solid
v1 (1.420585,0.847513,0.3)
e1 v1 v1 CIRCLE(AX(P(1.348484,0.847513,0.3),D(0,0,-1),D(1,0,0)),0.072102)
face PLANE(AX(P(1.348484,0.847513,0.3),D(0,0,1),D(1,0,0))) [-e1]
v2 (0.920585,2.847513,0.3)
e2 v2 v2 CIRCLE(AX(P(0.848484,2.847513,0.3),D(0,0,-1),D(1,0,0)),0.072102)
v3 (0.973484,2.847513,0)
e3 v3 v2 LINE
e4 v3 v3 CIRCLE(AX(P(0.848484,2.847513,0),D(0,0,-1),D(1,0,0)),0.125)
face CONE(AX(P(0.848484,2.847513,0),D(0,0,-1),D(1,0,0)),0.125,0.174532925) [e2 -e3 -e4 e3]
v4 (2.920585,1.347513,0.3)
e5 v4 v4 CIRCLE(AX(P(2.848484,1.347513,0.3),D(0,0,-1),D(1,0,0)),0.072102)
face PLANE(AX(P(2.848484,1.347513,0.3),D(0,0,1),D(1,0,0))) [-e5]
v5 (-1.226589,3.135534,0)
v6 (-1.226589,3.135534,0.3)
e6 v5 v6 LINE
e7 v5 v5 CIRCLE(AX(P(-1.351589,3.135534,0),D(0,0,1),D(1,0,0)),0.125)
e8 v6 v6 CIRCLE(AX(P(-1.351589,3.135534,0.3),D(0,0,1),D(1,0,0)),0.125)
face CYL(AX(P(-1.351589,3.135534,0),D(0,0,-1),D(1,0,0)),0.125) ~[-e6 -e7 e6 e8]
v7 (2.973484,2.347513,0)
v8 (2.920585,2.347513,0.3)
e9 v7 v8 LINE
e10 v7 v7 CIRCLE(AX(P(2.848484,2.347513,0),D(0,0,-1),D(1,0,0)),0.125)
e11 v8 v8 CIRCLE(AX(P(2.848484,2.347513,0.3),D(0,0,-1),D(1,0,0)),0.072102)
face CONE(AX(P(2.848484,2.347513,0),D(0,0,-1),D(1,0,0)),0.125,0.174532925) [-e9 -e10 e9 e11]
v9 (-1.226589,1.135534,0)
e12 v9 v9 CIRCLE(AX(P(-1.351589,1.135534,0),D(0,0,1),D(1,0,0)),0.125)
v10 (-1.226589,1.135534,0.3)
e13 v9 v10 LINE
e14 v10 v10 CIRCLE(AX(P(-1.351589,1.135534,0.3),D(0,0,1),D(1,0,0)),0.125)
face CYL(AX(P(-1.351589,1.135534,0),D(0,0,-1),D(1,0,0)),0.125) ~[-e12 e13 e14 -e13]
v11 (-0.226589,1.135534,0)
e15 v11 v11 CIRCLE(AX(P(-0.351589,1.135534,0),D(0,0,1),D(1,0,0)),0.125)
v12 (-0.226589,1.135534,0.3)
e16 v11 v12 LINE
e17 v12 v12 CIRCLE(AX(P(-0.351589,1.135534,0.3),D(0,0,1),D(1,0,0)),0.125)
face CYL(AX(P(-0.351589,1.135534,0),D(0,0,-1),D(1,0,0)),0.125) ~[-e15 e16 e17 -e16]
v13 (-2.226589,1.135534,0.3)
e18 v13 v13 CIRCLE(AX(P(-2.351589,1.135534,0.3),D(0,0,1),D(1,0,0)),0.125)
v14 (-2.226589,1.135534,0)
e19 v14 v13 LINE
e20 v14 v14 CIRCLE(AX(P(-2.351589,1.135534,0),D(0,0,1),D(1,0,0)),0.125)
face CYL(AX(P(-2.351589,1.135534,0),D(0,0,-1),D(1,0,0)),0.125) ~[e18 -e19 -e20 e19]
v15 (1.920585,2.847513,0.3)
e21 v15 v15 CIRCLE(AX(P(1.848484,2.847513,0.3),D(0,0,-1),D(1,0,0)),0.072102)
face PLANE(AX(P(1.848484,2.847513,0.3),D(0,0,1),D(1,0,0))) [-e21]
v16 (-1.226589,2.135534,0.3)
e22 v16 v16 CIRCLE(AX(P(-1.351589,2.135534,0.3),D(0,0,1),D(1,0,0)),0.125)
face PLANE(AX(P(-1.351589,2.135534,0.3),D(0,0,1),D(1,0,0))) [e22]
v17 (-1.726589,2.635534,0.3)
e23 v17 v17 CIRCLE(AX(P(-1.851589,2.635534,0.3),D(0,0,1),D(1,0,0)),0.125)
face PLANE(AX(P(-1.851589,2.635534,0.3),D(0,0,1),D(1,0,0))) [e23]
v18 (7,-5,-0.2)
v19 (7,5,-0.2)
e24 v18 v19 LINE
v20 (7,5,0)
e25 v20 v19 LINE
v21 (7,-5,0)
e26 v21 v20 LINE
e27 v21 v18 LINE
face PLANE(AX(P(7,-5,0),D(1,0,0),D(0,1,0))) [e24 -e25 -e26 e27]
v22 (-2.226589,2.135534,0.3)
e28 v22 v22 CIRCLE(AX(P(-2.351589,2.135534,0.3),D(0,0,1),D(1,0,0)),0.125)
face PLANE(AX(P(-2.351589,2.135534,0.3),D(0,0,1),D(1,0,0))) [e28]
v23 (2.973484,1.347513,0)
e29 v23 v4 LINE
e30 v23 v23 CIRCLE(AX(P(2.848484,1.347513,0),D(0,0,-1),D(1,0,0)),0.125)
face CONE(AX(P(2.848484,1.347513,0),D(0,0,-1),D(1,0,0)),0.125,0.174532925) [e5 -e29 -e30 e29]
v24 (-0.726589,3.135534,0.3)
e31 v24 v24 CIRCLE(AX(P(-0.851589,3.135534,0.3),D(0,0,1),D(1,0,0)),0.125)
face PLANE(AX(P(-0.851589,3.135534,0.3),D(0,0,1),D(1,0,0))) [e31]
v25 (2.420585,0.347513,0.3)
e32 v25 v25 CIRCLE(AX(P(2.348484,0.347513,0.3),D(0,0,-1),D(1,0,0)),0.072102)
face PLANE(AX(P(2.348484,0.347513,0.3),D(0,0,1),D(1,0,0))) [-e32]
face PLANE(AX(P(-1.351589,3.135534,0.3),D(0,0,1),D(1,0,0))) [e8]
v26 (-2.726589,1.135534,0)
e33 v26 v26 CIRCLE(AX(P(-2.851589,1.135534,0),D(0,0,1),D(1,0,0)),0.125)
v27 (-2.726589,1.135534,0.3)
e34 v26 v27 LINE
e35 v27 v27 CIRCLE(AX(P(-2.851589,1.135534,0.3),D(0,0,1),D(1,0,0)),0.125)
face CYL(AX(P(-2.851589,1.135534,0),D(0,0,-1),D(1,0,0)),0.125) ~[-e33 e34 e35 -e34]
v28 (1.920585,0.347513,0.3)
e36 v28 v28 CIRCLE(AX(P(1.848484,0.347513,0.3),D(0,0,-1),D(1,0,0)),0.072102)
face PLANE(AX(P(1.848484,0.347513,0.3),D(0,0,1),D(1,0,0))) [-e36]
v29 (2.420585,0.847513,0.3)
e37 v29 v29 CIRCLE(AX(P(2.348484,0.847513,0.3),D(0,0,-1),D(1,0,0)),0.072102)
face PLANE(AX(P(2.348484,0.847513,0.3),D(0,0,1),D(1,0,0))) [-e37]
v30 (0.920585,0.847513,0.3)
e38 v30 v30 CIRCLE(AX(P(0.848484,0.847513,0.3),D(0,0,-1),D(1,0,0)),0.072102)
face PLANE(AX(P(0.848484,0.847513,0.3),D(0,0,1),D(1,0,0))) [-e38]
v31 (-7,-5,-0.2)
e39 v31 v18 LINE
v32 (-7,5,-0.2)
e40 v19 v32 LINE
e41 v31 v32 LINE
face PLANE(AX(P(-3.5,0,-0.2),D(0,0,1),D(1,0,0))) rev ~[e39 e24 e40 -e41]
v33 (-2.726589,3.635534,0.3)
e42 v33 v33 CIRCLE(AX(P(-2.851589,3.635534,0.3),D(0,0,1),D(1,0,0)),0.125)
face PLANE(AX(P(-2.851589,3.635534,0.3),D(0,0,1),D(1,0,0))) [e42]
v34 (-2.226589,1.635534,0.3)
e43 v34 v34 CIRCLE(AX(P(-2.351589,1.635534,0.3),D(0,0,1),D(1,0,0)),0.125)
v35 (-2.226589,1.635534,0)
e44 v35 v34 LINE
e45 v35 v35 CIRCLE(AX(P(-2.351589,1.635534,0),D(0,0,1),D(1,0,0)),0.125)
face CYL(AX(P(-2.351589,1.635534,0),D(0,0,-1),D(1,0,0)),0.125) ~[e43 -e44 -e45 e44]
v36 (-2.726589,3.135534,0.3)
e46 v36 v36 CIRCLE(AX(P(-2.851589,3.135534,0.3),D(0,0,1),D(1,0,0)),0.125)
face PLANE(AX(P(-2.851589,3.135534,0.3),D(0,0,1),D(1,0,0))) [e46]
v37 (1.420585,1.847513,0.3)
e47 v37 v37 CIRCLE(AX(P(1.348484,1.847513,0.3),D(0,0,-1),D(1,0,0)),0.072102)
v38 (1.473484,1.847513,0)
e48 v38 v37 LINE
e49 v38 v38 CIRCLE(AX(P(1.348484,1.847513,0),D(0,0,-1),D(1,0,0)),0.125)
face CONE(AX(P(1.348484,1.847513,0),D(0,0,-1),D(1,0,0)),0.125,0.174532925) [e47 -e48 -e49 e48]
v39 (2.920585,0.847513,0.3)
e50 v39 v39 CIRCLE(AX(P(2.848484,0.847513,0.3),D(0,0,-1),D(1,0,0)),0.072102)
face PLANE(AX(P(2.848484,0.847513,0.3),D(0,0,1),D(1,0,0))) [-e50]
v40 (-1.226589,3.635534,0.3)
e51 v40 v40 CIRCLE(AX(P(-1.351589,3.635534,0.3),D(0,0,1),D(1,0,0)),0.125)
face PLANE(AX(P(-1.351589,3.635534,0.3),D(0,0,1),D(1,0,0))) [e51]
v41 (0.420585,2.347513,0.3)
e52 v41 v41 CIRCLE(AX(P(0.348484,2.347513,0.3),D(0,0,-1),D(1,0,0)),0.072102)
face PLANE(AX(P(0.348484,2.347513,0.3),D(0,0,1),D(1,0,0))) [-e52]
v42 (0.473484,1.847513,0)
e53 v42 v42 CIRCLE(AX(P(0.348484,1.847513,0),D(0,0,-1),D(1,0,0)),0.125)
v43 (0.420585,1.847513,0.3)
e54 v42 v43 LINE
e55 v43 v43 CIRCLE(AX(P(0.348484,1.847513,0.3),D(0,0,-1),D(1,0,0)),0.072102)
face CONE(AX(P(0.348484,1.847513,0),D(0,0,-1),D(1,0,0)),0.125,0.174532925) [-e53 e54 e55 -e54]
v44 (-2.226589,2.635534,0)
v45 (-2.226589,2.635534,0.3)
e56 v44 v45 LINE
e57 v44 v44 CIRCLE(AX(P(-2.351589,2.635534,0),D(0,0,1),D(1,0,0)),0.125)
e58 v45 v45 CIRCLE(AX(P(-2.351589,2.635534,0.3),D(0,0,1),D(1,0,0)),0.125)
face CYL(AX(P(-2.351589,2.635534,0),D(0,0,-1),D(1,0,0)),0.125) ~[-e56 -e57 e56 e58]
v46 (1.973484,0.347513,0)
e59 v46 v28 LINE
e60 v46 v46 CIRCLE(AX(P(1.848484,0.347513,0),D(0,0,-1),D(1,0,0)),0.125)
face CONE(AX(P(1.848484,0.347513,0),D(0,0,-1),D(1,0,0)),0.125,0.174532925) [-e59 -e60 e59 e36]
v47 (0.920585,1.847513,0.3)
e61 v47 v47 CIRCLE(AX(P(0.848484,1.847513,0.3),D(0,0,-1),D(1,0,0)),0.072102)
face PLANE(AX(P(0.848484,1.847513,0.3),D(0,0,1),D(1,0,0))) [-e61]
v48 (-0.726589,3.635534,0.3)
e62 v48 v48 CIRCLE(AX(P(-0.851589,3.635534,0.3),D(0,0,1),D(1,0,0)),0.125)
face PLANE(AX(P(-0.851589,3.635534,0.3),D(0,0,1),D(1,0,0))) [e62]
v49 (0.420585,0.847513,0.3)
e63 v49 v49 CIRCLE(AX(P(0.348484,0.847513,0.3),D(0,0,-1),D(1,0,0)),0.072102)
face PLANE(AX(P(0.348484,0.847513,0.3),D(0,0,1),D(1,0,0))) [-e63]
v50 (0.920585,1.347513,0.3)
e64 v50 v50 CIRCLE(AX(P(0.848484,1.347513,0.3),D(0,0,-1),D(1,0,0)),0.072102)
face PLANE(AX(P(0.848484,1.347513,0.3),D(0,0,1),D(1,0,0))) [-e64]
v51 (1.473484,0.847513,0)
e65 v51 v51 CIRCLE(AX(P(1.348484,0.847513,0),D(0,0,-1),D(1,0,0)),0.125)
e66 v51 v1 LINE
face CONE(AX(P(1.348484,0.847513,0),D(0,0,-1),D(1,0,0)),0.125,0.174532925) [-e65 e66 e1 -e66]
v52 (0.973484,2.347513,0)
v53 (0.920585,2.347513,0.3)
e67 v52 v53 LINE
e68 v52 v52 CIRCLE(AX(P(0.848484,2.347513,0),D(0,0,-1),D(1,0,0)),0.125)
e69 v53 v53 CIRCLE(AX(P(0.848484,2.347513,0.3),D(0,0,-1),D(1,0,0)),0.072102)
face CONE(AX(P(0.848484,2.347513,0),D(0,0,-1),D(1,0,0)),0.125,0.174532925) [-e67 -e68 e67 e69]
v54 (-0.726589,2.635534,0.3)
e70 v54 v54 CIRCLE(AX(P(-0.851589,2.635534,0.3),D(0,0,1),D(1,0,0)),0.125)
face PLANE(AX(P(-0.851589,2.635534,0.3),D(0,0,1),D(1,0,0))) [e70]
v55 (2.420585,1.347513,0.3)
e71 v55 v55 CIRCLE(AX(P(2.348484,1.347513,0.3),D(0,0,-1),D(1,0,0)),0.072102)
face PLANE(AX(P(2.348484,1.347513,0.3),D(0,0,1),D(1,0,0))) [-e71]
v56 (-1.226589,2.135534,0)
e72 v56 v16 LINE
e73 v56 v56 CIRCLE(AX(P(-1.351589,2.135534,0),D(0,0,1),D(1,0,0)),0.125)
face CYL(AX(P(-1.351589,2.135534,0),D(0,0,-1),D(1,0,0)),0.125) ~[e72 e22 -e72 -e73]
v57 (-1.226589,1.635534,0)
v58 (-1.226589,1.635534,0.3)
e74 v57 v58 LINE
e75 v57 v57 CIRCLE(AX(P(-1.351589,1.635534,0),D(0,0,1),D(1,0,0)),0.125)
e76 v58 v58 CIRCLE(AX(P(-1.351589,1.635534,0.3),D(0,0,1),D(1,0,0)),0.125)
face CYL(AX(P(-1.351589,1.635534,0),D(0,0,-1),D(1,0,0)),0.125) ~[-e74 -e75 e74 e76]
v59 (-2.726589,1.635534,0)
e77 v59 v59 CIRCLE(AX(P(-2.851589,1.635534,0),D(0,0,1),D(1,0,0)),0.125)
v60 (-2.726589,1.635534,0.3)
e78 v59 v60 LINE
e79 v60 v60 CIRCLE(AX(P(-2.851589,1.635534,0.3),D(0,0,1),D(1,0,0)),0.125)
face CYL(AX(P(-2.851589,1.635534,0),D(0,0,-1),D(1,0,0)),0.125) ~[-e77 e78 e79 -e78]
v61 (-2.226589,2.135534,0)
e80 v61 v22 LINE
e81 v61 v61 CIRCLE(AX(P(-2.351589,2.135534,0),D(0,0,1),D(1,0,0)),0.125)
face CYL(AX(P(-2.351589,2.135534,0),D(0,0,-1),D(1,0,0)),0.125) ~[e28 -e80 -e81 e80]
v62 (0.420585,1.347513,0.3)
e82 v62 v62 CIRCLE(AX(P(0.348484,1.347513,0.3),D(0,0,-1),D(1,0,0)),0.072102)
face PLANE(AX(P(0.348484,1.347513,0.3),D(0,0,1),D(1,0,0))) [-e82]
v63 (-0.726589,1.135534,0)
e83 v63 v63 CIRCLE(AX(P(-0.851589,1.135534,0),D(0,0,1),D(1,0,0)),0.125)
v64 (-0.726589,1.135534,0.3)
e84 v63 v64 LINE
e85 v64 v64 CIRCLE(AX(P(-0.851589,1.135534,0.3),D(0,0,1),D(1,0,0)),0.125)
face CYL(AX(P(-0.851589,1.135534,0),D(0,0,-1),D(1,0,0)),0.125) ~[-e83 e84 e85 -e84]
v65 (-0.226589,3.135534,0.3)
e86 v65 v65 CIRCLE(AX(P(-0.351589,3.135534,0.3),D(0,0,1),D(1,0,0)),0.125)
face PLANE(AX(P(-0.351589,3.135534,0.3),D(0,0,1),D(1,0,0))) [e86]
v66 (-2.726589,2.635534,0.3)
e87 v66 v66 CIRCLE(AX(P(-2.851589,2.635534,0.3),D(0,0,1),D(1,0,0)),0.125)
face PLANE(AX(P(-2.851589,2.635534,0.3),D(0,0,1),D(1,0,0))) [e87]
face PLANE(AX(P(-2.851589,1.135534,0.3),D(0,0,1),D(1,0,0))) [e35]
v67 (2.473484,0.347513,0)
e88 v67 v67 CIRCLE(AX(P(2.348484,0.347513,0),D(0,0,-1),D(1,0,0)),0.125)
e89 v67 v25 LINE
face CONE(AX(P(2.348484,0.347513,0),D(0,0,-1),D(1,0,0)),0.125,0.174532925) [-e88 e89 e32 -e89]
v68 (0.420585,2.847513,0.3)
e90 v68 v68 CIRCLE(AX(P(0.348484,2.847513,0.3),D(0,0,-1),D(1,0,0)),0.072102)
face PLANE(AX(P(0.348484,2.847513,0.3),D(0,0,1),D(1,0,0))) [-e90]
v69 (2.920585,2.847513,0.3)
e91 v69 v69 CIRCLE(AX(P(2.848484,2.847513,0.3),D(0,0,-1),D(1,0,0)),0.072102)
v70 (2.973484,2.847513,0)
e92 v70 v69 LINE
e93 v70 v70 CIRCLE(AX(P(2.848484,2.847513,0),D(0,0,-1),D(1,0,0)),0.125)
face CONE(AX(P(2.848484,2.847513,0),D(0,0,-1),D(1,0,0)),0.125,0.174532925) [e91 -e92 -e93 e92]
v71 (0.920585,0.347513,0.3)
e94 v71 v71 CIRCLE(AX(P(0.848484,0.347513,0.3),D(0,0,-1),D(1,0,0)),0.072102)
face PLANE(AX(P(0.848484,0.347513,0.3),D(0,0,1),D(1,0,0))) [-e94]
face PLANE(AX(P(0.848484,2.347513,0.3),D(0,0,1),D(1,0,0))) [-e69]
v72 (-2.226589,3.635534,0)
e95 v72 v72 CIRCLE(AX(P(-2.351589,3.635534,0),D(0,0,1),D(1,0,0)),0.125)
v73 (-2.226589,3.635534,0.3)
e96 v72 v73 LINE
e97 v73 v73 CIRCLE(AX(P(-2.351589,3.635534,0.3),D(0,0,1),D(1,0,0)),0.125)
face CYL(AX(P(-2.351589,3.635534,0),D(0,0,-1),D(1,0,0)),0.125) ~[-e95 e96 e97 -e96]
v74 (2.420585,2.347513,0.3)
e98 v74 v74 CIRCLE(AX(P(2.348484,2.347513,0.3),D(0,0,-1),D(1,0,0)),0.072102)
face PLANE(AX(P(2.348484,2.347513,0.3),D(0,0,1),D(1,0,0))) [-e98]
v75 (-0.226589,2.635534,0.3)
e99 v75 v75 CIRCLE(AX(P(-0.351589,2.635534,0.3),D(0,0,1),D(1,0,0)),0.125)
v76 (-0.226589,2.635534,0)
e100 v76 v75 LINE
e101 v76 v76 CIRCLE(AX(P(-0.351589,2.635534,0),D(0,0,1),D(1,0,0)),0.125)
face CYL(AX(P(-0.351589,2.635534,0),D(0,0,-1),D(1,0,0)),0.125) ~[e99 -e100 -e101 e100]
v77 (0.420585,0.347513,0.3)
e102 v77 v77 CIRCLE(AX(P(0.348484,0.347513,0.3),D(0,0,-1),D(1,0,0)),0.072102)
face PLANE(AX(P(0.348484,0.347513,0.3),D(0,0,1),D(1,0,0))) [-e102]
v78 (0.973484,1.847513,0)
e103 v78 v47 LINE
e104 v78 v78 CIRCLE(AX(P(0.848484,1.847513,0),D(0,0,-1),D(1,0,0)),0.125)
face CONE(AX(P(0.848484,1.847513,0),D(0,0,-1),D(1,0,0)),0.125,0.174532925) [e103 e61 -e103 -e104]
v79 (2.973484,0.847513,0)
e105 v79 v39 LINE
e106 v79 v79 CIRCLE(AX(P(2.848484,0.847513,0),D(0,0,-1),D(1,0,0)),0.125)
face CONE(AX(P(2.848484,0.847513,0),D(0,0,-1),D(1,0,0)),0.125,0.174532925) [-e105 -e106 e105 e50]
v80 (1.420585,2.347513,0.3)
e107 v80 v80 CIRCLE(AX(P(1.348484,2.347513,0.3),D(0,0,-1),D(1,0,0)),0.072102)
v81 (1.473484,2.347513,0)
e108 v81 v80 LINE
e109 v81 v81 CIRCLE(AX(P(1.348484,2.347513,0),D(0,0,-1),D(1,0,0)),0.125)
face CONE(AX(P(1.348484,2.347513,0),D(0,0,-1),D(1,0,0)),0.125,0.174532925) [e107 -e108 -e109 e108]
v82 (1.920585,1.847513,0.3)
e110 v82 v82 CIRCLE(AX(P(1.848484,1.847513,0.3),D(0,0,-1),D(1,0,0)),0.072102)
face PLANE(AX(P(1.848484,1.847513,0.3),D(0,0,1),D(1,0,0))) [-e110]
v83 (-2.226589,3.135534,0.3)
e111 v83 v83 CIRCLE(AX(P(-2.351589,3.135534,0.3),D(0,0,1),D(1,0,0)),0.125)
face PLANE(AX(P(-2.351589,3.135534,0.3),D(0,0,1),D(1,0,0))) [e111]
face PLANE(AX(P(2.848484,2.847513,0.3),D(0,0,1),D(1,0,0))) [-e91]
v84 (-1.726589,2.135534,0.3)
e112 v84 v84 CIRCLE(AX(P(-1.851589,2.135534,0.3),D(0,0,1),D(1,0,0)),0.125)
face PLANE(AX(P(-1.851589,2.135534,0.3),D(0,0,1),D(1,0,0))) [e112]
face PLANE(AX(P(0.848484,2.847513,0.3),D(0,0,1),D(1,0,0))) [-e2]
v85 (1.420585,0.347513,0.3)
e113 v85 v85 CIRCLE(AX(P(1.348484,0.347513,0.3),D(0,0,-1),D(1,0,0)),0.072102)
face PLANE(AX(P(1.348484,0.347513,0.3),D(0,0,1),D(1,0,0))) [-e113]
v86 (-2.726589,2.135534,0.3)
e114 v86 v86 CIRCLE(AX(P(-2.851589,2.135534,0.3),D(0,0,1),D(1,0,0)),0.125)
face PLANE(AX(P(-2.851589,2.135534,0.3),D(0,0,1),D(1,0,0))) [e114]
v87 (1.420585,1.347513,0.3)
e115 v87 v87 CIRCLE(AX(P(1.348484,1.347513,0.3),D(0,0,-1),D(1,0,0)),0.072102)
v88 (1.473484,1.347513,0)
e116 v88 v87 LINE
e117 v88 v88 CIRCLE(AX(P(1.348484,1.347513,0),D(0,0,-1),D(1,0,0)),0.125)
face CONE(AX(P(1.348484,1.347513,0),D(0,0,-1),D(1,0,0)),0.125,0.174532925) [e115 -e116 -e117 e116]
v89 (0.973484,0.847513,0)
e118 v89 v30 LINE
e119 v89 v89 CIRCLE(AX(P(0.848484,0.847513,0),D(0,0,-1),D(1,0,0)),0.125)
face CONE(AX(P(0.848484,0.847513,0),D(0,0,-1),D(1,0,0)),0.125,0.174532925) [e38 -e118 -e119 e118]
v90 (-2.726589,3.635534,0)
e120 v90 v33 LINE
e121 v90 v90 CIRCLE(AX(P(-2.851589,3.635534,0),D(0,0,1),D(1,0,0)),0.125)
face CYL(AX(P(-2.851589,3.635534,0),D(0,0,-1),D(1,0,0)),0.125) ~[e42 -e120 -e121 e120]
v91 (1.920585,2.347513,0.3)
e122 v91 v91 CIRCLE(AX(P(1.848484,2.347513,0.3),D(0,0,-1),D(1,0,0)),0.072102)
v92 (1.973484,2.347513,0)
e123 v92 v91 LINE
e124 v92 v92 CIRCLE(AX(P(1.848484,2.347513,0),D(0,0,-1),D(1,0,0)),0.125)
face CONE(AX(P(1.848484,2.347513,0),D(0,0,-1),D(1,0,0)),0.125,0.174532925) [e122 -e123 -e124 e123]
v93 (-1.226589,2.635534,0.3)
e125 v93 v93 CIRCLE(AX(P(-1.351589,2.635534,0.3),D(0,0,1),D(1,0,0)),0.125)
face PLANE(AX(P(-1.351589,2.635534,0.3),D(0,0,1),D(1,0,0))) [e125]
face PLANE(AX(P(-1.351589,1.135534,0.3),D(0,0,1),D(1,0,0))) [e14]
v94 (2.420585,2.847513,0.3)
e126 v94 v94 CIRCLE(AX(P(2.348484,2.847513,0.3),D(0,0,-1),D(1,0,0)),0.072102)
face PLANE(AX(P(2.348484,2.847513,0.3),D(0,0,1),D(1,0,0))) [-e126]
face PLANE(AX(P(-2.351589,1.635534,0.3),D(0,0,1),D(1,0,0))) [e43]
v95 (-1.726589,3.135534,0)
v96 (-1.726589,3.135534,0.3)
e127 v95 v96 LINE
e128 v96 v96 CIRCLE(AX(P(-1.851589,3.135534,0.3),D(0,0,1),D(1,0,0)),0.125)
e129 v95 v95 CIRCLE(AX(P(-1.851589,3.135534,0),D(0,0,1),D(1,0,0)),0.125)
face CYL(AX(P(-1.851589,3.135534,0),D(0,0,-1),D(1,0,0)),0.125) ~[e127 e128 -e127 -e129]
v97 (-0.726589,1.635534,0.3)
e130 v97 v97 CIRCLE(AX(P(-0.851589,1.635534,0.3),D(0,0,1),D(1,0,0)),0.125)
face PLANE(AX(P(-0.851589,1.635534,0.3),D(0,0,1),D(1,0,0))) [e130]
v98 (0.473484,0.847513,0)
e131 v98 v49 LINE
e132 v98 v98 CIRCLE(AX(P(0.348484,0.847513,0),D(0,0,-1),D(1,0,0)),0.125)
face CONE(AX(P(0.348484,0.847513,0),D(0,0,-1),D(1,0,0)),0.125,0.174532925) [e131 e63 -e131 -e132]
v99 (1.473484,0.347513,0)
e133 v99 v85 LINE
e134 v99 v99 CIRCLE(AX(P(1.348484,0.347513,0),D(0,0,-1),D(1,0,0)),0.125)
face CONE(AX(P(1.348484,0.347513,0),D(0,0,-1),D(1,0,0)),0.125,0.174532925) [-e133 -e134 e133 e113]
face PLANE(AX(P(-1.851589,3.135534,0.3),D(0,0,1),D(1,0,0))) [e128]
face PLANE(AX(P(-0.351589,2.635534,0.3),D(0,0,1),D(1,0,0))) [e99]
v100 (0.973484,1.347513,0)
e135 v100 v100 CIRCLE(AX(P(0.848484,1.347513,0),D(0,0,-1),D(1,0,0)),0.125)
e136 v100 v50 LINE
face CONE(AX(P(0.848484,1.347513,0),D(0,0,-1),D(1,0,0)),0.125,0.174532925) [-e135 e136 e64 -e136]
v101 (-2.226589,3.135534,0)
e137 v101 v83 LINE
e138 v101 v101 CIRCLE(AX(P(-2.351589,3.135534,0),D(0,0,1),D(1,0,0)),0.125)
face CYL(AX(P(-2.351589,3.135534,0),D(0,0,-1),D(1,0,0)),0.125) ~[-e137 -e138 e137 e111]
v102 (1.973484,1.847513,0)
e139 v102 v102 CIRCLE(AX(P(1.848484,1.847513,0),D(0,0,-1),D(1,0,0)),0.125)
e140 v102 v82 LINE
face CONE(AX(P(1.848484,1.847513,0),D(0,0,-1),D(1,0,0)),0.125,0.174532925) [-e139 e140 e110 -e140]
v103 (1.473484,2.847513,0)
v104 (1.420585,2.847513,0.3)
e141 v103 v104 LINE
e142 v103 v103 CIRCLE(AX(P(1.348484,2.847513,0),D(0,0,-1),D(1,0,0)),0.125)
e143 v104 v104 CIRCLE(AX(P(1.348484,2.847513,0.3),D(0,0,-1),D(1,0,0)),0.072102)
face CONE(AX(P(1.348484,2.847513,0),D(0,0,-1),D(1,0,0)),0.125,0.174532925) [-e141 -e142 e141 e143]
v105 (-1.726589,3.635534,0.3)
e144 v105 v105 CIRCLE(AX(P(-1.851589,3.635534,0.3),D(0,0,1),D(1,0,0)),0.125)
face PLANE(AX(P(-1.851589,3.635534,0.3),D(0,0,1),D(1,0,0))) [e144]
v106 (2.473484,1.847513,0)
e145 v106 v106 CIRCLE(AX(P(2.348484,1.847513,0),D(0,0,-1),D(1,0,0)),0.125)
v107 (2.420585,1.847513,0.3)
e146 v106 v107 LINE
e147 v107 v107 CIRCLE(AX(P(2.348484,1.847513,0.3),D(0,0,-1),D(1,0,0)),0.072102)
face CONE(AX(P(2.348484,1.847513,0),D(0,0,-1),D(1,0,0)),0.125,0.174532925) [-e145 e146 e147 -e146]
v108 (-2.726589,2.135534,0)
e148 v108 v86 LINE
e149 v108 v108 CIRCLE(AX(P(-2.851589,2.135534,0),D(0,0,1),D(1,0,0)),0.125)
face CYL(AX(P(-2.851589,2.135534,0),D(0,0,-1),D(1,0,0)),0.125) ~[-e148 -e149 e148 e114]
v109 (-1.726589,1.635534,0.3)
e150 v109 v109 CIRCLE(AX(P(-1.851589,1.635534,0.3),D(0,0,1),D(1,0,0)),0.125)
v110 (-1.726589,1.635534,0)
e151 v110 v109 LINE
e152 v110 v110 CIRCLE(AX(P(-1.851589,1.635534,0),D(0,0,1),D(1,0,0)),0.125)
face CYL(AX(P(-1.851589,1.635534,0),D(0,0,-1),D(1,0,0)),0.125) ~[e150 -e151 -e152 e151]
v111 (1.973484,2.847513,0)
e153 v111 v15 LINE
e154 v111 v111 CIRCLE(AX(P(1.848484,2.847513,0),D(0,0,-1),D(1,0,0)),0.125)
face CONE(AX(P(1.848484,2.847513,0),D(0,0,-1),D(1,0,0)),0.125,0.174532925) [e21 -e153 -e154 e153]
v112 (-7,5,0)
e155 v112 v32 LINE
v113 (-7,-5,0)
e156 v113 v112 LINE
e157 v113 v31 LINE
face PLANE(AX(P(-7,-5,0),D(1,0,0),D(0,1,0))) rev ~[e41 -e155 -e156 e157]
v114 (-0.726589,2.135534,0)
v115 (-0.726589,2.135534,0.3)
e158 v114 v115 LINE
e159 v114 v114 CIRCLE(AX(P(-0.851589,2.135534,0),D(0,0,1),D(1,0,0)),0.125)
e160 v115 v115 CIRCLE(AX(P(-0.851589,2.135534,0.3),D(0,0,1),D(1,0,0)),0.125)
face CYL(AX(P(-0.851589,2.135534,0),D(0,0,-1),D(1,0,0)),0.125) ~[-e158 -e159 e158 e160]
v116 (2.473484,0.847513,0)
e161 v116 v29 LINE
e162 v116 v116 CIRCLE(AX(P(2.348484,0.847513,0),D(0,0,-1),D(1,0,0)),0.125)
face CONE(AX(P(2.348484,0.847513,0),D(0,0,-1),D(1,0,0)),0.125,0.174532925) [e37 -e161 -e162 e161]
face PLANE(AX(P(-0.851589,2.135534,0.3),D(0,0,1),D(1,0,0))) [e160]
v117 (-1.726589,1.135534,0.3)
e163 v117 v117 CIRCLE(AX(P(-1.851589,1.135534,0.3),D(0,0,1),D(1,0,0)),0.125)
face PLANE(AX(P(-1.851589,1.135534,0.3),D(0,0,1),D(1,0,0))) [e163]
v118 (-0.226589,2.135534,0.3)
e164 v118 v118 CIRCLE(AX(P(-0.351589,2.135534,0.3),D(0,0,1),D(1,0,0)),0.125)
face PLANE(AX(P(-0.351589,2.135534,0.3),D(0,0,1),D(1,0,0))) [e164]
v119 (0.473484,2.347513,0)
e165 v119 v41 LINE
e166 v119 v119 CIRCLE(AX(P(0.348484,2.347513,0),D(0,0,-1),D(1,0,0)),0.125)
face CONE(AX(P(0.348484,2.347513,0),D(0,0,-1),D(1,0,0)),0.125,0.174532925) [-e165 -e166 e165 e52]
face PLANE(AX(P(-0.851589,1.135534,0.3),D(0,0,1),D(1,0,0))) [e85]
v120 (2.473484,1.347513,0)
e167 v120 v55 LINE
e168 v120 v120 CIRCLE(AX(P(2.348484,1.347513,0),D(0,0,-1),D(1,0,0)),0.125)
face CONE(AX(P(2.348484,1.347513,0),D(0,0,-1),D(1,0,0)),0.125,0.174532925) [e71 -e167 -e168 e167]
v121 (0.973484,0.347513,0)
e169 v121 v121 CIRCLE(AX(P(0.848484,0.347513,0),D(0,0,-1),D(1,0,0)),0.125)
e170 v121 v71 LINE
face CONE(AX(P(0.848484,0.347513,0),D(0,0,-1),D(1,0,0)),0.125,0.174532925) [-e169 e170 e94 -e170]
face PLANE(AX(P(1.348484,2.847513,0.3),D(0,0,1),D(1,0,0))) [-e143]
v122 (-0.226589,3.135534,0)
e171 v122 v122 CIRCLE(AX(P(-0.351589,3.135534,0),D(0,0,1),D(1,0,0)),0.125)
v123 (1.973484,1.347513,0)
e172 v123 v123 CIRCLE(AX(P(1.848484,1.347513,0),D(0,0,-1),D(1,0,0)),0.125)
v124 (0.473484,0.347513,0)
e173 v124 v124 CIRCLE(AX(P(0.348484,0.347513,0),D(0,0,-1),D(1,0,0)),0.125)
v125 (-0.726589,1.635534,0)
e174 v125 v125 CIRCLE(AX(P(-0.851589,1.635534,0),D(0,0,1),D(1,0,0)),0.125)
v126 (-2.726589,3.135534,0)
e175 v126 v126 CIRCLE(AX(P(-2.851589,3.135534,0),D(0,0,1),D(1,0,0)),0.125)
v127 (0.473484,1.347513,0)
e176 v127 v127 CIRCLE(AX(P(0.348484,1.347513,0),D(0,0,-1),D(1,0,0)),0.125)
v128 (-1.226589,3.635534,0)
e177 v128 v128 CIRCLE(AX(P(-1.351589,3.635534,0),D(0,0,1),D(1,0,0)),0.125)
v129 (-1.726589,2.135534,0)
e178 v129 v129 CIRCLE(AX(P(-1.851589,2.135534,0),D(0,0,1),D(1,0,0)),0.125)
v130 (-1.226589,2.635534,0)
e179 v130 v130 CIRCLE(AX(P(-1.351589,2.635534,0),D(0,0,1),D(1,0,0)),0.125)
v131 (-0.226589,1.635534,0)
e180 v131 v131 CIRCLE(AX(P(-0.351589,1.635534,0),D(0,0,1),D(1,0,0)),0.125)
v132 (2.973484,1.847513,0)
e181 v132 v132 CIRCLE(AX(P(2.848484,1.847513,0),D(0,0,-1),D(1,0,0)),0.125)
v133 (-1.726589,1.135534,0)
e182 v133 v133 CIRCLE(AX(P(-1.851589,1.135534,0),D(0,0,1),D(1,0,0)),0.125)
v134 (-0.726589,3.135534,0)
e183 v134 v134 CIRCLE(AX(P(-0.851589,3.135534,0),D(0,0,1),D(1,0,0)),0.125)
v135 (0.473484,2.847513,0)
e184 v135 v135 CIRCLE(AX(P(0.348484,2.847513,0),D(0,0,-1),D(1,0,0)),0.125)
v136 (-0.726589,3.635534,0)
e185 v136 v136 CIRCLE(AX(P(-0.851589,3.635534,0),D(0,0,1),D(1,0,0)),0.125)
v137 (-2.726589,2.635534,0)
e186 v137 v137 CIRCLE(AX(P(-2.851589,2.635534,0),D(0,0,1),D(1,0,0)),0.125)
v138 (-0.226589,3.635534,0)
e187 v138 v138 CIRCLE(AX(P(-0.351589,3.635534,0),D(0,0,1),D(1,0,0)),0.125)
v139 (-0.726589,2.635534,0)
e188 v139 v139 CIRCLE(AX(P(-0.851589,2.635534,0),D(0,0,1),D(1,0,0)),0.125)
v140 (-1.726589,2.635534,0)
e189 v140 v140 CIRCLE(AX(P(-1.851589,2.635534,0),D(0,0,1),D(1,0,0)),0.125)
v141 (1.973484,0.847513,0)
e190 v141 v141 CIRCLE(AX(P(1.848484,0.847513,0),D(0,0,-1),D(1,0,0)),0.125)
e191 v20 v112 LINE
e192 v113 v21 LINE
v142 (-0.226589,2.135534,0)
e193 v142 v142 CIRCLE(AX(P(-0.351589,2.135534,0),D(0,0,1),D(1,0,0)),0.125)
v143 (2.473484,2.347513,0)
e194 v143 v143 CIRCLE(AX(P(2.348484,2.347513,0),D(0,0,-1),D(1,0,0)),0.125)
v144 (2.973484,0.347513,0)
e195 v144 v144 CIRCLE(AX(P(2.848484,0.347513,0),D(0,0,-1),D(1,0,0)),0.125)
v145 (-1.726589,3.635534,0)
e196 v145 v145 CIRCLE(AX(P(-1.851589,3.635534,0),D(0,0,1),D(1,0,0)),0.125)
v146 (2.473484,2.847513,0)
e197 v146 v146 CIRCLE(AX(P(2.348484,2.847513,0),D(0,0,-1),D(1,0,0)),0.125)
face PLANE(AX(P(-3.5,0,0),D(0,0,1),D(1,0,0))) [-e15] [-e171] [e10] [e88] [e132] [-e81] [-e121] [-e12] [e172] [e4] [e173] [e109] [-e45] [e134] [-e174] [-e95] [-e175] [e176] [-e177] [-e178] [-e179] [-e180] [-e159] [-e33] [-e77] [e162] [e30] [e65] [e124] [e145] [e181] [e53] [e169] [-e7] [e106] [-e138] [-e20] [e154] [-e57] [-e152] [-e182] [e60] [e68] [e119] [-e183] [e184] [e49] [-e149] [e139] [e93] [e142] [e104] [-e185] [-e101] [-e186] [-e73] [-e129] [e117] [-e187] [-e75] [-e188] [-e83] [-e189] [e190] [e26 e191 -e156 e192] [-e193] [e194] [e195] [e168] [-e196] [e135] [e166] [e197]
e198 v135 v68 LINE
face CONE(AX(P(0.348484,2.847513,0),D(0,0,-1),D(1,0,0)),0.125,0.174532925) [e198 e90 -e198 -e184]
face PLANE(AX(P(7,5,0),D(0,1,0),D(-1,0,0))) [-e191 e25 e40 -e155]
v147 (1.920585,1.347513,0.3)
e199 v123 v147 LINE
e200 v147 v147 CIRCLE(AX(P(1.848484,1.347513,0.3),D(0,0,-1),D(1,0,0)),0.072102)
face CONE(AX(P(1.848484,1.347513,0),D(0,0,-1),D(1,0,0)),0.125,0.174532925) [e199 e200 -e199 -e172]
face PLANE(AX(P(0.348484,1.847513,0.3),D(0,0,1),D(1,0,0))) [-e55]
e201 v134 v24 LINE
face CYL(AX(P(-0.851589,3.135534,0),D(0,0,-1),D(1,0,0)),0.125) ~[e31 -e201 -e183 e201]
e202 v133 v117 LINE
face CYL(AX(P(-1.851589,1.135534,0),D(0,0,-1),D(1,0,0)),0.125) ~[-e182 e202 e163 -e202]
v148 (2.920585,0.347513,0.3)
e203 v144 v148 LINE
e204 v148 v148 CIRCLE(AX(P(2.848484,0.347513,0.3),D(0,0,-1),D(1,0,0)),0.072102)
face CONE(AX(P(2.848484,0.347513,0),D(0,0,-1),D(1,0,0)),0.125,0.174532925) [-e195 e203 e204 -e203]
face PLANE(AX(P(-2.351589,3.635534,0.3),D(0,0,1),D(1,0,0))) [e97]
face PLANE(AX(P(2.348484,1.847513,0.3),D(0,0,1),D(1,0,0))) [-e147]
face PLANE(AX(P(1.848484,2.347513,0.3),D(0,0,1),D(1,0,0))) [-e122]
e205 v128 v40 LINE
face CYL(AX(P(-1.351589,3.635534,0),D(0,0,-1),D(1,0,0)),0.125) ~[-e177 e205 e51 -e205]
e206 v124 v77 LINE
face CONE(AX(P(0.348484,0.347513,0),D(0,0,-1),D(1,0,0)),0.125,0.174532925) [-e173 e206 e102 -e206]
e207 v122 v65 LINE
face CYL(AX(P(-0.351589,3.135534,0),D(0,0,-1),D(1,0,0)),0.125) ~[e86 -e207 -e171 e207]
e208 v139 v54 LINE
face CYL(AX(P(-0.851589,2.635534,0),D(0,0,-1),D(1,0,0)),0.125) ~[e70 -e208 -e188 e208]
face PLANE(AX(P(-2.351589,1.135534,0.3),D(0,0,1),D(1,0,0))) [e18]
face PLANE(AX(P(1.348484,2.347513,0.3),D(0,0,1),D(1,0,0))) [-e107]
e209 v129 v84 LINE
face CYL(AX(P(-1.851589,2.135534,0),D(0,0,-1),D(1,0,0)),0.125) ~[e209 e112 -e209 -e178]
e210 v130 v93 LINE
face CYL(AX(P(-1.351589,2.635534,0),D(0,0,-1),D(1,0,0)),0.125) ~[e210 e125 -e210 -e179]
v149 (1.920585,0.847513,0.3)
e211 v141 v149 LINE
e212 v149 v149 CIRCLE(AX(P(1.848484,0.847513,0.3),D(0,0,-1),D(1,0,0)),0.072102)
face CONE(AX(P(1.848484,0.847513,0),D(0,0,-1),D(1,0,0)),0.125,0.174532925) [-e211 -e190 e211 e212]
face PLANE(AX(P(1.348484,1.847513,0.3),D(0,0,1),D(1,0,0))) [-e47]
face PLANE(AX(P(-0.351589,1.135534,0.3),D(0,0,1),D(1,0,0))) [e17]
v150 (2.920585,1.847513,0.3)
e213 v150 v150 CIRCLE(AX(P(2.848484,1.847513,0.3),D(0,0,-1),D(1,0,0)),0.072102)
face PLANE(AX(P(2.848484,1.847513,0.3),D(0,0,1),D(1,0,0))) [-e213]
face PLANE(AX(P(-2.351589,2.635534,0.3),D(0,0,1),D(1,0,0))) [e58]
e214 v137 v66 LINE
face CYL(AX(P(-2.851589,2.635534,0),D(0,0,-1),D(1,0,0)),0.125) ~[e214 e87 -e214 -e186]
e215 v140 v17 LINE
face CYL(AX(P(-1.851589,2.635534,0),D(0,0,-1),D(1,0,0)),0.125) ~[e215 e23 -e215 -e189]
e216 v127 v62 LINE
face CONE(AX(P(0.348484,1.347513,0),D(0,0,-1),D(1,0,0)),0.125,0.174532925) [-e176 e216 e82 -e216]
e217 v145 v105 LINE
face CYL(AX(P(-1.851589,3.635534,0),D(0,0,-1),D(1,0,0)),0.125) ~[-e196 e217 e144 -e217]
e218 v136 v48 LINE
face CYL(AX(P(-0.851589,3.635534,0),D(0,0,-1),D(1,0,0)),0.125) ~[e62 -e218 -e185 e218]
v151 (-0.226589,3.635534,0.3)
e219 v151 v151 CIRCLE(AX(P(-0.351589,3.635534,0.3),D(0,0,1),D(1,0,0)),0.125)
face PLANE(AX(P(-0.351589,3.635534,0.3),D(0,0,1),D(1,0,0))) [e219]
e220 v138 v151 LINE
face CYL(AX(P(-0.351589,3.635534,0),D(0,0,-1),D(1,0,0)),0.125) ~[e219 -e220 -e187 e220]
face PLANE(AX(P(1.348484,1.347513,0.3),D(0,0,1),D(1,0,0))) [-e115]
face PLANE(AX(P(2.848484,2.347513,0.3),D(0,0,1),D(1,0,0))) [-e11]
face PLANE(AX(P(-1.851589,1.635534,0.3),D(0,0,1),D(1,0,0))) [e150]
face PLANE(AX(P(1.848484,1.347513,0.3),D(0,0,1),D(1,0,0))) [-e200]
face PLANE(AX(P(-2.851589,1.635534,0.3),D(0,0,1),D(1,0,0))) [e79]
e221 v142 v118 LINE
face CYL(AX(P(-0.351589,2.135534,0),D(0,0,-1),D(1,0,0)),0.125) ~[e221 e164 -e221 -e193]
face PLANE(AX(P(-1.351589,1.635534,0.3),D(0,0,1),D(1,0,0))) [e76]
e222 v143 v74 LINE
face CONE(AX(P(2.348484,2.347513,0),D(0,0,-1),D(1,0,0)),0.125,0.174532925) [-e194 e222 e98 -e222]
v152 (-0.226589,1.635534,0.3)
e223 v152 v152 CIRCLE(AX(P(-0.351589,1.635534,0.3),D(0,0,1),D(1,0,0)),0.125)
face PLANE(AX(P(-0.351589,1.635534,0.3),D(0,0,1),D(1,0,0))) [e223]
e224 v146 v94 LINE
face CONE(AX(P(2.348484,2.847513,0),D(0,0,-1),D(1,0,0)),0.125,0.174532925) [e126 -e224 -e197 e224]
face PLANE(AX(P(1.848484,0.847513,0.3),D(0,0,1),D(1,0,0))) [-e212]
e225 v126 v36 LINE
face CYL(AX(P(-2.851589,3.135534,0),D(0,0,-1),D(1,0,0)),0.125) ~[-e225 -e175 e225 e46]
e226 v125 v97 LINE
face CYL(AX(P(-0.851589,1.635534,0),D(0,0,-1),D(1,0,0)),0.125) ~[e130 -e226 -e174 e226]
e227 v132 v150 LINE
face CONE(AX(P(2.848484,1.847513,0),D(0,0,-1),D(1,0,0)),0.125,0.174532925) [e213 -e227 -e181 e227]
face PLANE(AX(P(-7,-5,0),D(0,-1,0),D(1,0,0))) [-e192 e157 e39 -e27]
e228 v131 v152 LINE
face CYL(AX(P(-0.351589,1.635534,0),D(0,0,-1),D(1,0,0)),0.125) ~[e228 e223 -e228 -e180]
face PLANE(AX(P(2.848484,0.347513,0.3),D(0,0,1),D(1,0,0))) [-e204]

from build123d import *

# Parameters (mm, degrees)
F0_W     = 7
F0_H     = 10
F1_DEPTH = 0.2
F2_R     = 0.125
F3_R     = 0.125
F4_DEPTH = 0.3
F5_DEPTH = 0.3
F5_TAPER = 10


with BuildPart() as f1:
    # F0 (on Top) → F1 (new body)
    with BuildSketch(Plane.XY):
        with Locations((-3.5, 0)):
            Rectangle(F0_W, F0_H)
        with Locations((3.5, 0)):
            Rectangle(F0_W, F0_H)
    extrude(amount=-F1_DEPTH)

    # F2 (on face) + F3 (on face) → F4 (join)
    with BuildSketch(Plane.XY):
        with Locations((-1.3515888844, 2.135533792)):
            Circle(F2_R)
        with Locations((-0.8515888844, 3.635533792)):
            Circle(F2_R)
        with Locations((-0.8515888844, 2.135533792)):
            Circle(F2_R)
        with Locations((-0.3515888844, 3.635533792)):
            Circle(F2_R)
        with Locations((-1.3515888844, 1.635533792)):
            Circle(F2_R)
        with Locations((-1.8515888844, 1.135533792)):
            Circle(F2_R)
        with Locations((-0.8515888844, 1.635533792)):
            Circle(F2_R)
        with Locations((-2.8515888844, 3.135533792)):
            Circle(F2_R)
        with Locations((-2.8515888844, 3.635533792)):
            Circle(F2_R)
        with Locations((-0.8515888844, 1.135533792)):
            Circle(F2_R)
        with Locations((-2.8515888844, 1.135533792)):
            Circle(F2_R)
        with Locations((-1.8515888844, 2.135533792)):
            Circle(F2_R)
        with Locations((-2.8515888844, 2.135533792)):
            Circle(F2_R)
        with Locations((-2.3515888844, 1.135533792)):
            Circle(F2_R)
        with Locations((-1.3515888844, 1.135533792)):
            Circle(F2_R)
        with Locations((-0.3515888844, 3.135533792)):
            Circle(F2_R)
        with Locations((-2.3515888844, 3.635533792)):
            Circle(F2_R)
        with Locations((-1.8515888844, 1.635533792)):
            Circle(F2_R)
        with Locations((-2.3515888844, 3.135533792)):
            Circle(F2_R)
        with Locations((-2.3515888844, 2.635533792)):
            Circle(F2_R)
        with Locations((-0.3515888844, 1.635533792)):
            Circle(F2_R)
        with Locations((-2.3515888844, 2.135533792)):
            Circle(F2_R)
        with Locations((-2.3515888844, 1.635533792)):
            Circle(F2_R)
        with Locations((-2.8515888844, 2.635533792)):
            Circle(F2_R)
        with Locations((-2.8515888844, 1.635533792)):
            Circle(F2_R)
        with Locations((-1.8515888844, 2.635533792)):
            Circle(F2_R)
        with Locations((-0.8515888844, 2.635533792)):
            Circle(F2_R)
        with Locations((-0.3515888844, 1.135533792)):
            Circle(F2_R)
        with Locations((-1.3515888844, 2.635533792)):
            Circle(F2_R)
        with Locations((-0.8515888844, 3.135533792)):
            Circle(F2_R)
        with Locations((-1.3515888844, 3.135533792)):
            Circle(F2_R)
        with Locations((-0.3515888844, 2.135533792)):
            Circle(F2_R)
        with Locations((-1.8515888844, 3.135533792)):
            Circle(F2_R)
        with Locations((-1.3515888844, 3.635533792)):
            Circle(F2_R)
        with Locations((-0.3515888844, 2.635533792)):
            Circle(F2_R)
        with Locations((-1.8515888844, 3.635533792)):
            Circle(F2_R)
    with BuildSketch(Plane.XY):
        with Locations((-0.8515888844, 2.135533792)):
            Circle(F3_R)
    extrude(amount=F4_DEPTH)

    # F3 (on face) → F5 (join)
    with BuildSketch(Plane.XY):
        with Locations((0.3484835033, 0.3475129197)):
            Circle(F3_R)
        with Locations((0.3484835033, 0.8475129197)):
            Circle(F3_R)
        with Locations((0.3484835033, 1.3475129197)):
            Circle(F3_R)
        with Locations((0.3484835033, 1.8475129197)):
            Circle(F3_R)
        with Locations((0.3484835033, 2.3475129197)):
            Circle(F3_R)
        with Locations((0.3484835033, 2.8475129197)):
            Circle(F3_R)
        with Locations((0.8484835033, 0.3475129197)):
            Circle(F3_R)
        with Locations((0.8484835033, 0.8475129197)):
            Circle(F3_R)
        with Locations((0.8484835033, 1.3475129197)):
            Circle(F3_R)
        with Locations((0.8484835033, 1.8475129197)):
            Circle(F3_R)
        with Locations((0.8484835033, 2.3475129197)):
            Circle(F3_R)
        with Locations((0.8484835033, 2.8475129197)):
            Circle(F3_R)
        with Locations((1.3484835033, 0.3475129197)):
            Circle(F3_R)
        with Locations((1.3484835033, 0.8475129197)):
            Circle(F3_R)
        with Locations((1.3484835033, 1.3475129197)):
            Circle(F3_R)
        with Locations((1.3484835033, 1.8475129197)):
            Circle(F3_R)
        with Locations((1.3484835033, 2.3475129197)):
            Circle(F3_R)
        with Locations((1.3484835033, 2.8475129197)):
            Circle(F3_R)
        with Locations((1.8484835033, 0.3475129197)):
            Circle(F3_R)
        with Locations((1.8484835033, 0.8475129197)):
            Circle(F3_R)
        with Locations((1.8484835033, 1.3475129197)):
            Circle(F3_R)
        with Locations((1.8484835033, 1.8475129197)):
            Circle(F3_R)
        with Locations((1.8484835033, 2.3475129197)):
            Circle(F3_R)
        with Locations((1.8484835033, 2.8475129197)):
            Circle(F3_R)
        with Locations((2.3484835033, 0.3475129197)):
            Circle(F3_R)
        with Locations((2.3484835033, 0.8475129197)):
            Circle(F3_R)
        with Locations((2.3484835033, 1.3475129197)):
            Circle(F3_R)
        with Locations((2.3484835033, 1.8475129197)):
            Circle(F3_R)
        with Locations((2.3484835033, 2.3475129197)):
            Circle(F3_R)
        with Locations((2.3484835033, 2.8475129197)):
            Circle(F3_R)
        with Locations((2.8484835033, 0.3475129197)):
            Circle(F3_R)
        with Locations((2.8484835033, 0.8475129197)):
            Circle(F3_R)
        with Locations((2.8484835033, 1.3475129197)):
            Circle(F3_R)
        with Locations((2.8484835033, 1.8475129197)):
            Circle(F3_R)
        with Locations((2.8484835033, 2.3475129197)):
            Circle(F3_R)
        with Locations((2.8484835033, 2.8475129197)):
            Circle(F3_R)
    extrude(amount=F5_DEPTH, taper=F5_TAPER)


solid = f1.part
